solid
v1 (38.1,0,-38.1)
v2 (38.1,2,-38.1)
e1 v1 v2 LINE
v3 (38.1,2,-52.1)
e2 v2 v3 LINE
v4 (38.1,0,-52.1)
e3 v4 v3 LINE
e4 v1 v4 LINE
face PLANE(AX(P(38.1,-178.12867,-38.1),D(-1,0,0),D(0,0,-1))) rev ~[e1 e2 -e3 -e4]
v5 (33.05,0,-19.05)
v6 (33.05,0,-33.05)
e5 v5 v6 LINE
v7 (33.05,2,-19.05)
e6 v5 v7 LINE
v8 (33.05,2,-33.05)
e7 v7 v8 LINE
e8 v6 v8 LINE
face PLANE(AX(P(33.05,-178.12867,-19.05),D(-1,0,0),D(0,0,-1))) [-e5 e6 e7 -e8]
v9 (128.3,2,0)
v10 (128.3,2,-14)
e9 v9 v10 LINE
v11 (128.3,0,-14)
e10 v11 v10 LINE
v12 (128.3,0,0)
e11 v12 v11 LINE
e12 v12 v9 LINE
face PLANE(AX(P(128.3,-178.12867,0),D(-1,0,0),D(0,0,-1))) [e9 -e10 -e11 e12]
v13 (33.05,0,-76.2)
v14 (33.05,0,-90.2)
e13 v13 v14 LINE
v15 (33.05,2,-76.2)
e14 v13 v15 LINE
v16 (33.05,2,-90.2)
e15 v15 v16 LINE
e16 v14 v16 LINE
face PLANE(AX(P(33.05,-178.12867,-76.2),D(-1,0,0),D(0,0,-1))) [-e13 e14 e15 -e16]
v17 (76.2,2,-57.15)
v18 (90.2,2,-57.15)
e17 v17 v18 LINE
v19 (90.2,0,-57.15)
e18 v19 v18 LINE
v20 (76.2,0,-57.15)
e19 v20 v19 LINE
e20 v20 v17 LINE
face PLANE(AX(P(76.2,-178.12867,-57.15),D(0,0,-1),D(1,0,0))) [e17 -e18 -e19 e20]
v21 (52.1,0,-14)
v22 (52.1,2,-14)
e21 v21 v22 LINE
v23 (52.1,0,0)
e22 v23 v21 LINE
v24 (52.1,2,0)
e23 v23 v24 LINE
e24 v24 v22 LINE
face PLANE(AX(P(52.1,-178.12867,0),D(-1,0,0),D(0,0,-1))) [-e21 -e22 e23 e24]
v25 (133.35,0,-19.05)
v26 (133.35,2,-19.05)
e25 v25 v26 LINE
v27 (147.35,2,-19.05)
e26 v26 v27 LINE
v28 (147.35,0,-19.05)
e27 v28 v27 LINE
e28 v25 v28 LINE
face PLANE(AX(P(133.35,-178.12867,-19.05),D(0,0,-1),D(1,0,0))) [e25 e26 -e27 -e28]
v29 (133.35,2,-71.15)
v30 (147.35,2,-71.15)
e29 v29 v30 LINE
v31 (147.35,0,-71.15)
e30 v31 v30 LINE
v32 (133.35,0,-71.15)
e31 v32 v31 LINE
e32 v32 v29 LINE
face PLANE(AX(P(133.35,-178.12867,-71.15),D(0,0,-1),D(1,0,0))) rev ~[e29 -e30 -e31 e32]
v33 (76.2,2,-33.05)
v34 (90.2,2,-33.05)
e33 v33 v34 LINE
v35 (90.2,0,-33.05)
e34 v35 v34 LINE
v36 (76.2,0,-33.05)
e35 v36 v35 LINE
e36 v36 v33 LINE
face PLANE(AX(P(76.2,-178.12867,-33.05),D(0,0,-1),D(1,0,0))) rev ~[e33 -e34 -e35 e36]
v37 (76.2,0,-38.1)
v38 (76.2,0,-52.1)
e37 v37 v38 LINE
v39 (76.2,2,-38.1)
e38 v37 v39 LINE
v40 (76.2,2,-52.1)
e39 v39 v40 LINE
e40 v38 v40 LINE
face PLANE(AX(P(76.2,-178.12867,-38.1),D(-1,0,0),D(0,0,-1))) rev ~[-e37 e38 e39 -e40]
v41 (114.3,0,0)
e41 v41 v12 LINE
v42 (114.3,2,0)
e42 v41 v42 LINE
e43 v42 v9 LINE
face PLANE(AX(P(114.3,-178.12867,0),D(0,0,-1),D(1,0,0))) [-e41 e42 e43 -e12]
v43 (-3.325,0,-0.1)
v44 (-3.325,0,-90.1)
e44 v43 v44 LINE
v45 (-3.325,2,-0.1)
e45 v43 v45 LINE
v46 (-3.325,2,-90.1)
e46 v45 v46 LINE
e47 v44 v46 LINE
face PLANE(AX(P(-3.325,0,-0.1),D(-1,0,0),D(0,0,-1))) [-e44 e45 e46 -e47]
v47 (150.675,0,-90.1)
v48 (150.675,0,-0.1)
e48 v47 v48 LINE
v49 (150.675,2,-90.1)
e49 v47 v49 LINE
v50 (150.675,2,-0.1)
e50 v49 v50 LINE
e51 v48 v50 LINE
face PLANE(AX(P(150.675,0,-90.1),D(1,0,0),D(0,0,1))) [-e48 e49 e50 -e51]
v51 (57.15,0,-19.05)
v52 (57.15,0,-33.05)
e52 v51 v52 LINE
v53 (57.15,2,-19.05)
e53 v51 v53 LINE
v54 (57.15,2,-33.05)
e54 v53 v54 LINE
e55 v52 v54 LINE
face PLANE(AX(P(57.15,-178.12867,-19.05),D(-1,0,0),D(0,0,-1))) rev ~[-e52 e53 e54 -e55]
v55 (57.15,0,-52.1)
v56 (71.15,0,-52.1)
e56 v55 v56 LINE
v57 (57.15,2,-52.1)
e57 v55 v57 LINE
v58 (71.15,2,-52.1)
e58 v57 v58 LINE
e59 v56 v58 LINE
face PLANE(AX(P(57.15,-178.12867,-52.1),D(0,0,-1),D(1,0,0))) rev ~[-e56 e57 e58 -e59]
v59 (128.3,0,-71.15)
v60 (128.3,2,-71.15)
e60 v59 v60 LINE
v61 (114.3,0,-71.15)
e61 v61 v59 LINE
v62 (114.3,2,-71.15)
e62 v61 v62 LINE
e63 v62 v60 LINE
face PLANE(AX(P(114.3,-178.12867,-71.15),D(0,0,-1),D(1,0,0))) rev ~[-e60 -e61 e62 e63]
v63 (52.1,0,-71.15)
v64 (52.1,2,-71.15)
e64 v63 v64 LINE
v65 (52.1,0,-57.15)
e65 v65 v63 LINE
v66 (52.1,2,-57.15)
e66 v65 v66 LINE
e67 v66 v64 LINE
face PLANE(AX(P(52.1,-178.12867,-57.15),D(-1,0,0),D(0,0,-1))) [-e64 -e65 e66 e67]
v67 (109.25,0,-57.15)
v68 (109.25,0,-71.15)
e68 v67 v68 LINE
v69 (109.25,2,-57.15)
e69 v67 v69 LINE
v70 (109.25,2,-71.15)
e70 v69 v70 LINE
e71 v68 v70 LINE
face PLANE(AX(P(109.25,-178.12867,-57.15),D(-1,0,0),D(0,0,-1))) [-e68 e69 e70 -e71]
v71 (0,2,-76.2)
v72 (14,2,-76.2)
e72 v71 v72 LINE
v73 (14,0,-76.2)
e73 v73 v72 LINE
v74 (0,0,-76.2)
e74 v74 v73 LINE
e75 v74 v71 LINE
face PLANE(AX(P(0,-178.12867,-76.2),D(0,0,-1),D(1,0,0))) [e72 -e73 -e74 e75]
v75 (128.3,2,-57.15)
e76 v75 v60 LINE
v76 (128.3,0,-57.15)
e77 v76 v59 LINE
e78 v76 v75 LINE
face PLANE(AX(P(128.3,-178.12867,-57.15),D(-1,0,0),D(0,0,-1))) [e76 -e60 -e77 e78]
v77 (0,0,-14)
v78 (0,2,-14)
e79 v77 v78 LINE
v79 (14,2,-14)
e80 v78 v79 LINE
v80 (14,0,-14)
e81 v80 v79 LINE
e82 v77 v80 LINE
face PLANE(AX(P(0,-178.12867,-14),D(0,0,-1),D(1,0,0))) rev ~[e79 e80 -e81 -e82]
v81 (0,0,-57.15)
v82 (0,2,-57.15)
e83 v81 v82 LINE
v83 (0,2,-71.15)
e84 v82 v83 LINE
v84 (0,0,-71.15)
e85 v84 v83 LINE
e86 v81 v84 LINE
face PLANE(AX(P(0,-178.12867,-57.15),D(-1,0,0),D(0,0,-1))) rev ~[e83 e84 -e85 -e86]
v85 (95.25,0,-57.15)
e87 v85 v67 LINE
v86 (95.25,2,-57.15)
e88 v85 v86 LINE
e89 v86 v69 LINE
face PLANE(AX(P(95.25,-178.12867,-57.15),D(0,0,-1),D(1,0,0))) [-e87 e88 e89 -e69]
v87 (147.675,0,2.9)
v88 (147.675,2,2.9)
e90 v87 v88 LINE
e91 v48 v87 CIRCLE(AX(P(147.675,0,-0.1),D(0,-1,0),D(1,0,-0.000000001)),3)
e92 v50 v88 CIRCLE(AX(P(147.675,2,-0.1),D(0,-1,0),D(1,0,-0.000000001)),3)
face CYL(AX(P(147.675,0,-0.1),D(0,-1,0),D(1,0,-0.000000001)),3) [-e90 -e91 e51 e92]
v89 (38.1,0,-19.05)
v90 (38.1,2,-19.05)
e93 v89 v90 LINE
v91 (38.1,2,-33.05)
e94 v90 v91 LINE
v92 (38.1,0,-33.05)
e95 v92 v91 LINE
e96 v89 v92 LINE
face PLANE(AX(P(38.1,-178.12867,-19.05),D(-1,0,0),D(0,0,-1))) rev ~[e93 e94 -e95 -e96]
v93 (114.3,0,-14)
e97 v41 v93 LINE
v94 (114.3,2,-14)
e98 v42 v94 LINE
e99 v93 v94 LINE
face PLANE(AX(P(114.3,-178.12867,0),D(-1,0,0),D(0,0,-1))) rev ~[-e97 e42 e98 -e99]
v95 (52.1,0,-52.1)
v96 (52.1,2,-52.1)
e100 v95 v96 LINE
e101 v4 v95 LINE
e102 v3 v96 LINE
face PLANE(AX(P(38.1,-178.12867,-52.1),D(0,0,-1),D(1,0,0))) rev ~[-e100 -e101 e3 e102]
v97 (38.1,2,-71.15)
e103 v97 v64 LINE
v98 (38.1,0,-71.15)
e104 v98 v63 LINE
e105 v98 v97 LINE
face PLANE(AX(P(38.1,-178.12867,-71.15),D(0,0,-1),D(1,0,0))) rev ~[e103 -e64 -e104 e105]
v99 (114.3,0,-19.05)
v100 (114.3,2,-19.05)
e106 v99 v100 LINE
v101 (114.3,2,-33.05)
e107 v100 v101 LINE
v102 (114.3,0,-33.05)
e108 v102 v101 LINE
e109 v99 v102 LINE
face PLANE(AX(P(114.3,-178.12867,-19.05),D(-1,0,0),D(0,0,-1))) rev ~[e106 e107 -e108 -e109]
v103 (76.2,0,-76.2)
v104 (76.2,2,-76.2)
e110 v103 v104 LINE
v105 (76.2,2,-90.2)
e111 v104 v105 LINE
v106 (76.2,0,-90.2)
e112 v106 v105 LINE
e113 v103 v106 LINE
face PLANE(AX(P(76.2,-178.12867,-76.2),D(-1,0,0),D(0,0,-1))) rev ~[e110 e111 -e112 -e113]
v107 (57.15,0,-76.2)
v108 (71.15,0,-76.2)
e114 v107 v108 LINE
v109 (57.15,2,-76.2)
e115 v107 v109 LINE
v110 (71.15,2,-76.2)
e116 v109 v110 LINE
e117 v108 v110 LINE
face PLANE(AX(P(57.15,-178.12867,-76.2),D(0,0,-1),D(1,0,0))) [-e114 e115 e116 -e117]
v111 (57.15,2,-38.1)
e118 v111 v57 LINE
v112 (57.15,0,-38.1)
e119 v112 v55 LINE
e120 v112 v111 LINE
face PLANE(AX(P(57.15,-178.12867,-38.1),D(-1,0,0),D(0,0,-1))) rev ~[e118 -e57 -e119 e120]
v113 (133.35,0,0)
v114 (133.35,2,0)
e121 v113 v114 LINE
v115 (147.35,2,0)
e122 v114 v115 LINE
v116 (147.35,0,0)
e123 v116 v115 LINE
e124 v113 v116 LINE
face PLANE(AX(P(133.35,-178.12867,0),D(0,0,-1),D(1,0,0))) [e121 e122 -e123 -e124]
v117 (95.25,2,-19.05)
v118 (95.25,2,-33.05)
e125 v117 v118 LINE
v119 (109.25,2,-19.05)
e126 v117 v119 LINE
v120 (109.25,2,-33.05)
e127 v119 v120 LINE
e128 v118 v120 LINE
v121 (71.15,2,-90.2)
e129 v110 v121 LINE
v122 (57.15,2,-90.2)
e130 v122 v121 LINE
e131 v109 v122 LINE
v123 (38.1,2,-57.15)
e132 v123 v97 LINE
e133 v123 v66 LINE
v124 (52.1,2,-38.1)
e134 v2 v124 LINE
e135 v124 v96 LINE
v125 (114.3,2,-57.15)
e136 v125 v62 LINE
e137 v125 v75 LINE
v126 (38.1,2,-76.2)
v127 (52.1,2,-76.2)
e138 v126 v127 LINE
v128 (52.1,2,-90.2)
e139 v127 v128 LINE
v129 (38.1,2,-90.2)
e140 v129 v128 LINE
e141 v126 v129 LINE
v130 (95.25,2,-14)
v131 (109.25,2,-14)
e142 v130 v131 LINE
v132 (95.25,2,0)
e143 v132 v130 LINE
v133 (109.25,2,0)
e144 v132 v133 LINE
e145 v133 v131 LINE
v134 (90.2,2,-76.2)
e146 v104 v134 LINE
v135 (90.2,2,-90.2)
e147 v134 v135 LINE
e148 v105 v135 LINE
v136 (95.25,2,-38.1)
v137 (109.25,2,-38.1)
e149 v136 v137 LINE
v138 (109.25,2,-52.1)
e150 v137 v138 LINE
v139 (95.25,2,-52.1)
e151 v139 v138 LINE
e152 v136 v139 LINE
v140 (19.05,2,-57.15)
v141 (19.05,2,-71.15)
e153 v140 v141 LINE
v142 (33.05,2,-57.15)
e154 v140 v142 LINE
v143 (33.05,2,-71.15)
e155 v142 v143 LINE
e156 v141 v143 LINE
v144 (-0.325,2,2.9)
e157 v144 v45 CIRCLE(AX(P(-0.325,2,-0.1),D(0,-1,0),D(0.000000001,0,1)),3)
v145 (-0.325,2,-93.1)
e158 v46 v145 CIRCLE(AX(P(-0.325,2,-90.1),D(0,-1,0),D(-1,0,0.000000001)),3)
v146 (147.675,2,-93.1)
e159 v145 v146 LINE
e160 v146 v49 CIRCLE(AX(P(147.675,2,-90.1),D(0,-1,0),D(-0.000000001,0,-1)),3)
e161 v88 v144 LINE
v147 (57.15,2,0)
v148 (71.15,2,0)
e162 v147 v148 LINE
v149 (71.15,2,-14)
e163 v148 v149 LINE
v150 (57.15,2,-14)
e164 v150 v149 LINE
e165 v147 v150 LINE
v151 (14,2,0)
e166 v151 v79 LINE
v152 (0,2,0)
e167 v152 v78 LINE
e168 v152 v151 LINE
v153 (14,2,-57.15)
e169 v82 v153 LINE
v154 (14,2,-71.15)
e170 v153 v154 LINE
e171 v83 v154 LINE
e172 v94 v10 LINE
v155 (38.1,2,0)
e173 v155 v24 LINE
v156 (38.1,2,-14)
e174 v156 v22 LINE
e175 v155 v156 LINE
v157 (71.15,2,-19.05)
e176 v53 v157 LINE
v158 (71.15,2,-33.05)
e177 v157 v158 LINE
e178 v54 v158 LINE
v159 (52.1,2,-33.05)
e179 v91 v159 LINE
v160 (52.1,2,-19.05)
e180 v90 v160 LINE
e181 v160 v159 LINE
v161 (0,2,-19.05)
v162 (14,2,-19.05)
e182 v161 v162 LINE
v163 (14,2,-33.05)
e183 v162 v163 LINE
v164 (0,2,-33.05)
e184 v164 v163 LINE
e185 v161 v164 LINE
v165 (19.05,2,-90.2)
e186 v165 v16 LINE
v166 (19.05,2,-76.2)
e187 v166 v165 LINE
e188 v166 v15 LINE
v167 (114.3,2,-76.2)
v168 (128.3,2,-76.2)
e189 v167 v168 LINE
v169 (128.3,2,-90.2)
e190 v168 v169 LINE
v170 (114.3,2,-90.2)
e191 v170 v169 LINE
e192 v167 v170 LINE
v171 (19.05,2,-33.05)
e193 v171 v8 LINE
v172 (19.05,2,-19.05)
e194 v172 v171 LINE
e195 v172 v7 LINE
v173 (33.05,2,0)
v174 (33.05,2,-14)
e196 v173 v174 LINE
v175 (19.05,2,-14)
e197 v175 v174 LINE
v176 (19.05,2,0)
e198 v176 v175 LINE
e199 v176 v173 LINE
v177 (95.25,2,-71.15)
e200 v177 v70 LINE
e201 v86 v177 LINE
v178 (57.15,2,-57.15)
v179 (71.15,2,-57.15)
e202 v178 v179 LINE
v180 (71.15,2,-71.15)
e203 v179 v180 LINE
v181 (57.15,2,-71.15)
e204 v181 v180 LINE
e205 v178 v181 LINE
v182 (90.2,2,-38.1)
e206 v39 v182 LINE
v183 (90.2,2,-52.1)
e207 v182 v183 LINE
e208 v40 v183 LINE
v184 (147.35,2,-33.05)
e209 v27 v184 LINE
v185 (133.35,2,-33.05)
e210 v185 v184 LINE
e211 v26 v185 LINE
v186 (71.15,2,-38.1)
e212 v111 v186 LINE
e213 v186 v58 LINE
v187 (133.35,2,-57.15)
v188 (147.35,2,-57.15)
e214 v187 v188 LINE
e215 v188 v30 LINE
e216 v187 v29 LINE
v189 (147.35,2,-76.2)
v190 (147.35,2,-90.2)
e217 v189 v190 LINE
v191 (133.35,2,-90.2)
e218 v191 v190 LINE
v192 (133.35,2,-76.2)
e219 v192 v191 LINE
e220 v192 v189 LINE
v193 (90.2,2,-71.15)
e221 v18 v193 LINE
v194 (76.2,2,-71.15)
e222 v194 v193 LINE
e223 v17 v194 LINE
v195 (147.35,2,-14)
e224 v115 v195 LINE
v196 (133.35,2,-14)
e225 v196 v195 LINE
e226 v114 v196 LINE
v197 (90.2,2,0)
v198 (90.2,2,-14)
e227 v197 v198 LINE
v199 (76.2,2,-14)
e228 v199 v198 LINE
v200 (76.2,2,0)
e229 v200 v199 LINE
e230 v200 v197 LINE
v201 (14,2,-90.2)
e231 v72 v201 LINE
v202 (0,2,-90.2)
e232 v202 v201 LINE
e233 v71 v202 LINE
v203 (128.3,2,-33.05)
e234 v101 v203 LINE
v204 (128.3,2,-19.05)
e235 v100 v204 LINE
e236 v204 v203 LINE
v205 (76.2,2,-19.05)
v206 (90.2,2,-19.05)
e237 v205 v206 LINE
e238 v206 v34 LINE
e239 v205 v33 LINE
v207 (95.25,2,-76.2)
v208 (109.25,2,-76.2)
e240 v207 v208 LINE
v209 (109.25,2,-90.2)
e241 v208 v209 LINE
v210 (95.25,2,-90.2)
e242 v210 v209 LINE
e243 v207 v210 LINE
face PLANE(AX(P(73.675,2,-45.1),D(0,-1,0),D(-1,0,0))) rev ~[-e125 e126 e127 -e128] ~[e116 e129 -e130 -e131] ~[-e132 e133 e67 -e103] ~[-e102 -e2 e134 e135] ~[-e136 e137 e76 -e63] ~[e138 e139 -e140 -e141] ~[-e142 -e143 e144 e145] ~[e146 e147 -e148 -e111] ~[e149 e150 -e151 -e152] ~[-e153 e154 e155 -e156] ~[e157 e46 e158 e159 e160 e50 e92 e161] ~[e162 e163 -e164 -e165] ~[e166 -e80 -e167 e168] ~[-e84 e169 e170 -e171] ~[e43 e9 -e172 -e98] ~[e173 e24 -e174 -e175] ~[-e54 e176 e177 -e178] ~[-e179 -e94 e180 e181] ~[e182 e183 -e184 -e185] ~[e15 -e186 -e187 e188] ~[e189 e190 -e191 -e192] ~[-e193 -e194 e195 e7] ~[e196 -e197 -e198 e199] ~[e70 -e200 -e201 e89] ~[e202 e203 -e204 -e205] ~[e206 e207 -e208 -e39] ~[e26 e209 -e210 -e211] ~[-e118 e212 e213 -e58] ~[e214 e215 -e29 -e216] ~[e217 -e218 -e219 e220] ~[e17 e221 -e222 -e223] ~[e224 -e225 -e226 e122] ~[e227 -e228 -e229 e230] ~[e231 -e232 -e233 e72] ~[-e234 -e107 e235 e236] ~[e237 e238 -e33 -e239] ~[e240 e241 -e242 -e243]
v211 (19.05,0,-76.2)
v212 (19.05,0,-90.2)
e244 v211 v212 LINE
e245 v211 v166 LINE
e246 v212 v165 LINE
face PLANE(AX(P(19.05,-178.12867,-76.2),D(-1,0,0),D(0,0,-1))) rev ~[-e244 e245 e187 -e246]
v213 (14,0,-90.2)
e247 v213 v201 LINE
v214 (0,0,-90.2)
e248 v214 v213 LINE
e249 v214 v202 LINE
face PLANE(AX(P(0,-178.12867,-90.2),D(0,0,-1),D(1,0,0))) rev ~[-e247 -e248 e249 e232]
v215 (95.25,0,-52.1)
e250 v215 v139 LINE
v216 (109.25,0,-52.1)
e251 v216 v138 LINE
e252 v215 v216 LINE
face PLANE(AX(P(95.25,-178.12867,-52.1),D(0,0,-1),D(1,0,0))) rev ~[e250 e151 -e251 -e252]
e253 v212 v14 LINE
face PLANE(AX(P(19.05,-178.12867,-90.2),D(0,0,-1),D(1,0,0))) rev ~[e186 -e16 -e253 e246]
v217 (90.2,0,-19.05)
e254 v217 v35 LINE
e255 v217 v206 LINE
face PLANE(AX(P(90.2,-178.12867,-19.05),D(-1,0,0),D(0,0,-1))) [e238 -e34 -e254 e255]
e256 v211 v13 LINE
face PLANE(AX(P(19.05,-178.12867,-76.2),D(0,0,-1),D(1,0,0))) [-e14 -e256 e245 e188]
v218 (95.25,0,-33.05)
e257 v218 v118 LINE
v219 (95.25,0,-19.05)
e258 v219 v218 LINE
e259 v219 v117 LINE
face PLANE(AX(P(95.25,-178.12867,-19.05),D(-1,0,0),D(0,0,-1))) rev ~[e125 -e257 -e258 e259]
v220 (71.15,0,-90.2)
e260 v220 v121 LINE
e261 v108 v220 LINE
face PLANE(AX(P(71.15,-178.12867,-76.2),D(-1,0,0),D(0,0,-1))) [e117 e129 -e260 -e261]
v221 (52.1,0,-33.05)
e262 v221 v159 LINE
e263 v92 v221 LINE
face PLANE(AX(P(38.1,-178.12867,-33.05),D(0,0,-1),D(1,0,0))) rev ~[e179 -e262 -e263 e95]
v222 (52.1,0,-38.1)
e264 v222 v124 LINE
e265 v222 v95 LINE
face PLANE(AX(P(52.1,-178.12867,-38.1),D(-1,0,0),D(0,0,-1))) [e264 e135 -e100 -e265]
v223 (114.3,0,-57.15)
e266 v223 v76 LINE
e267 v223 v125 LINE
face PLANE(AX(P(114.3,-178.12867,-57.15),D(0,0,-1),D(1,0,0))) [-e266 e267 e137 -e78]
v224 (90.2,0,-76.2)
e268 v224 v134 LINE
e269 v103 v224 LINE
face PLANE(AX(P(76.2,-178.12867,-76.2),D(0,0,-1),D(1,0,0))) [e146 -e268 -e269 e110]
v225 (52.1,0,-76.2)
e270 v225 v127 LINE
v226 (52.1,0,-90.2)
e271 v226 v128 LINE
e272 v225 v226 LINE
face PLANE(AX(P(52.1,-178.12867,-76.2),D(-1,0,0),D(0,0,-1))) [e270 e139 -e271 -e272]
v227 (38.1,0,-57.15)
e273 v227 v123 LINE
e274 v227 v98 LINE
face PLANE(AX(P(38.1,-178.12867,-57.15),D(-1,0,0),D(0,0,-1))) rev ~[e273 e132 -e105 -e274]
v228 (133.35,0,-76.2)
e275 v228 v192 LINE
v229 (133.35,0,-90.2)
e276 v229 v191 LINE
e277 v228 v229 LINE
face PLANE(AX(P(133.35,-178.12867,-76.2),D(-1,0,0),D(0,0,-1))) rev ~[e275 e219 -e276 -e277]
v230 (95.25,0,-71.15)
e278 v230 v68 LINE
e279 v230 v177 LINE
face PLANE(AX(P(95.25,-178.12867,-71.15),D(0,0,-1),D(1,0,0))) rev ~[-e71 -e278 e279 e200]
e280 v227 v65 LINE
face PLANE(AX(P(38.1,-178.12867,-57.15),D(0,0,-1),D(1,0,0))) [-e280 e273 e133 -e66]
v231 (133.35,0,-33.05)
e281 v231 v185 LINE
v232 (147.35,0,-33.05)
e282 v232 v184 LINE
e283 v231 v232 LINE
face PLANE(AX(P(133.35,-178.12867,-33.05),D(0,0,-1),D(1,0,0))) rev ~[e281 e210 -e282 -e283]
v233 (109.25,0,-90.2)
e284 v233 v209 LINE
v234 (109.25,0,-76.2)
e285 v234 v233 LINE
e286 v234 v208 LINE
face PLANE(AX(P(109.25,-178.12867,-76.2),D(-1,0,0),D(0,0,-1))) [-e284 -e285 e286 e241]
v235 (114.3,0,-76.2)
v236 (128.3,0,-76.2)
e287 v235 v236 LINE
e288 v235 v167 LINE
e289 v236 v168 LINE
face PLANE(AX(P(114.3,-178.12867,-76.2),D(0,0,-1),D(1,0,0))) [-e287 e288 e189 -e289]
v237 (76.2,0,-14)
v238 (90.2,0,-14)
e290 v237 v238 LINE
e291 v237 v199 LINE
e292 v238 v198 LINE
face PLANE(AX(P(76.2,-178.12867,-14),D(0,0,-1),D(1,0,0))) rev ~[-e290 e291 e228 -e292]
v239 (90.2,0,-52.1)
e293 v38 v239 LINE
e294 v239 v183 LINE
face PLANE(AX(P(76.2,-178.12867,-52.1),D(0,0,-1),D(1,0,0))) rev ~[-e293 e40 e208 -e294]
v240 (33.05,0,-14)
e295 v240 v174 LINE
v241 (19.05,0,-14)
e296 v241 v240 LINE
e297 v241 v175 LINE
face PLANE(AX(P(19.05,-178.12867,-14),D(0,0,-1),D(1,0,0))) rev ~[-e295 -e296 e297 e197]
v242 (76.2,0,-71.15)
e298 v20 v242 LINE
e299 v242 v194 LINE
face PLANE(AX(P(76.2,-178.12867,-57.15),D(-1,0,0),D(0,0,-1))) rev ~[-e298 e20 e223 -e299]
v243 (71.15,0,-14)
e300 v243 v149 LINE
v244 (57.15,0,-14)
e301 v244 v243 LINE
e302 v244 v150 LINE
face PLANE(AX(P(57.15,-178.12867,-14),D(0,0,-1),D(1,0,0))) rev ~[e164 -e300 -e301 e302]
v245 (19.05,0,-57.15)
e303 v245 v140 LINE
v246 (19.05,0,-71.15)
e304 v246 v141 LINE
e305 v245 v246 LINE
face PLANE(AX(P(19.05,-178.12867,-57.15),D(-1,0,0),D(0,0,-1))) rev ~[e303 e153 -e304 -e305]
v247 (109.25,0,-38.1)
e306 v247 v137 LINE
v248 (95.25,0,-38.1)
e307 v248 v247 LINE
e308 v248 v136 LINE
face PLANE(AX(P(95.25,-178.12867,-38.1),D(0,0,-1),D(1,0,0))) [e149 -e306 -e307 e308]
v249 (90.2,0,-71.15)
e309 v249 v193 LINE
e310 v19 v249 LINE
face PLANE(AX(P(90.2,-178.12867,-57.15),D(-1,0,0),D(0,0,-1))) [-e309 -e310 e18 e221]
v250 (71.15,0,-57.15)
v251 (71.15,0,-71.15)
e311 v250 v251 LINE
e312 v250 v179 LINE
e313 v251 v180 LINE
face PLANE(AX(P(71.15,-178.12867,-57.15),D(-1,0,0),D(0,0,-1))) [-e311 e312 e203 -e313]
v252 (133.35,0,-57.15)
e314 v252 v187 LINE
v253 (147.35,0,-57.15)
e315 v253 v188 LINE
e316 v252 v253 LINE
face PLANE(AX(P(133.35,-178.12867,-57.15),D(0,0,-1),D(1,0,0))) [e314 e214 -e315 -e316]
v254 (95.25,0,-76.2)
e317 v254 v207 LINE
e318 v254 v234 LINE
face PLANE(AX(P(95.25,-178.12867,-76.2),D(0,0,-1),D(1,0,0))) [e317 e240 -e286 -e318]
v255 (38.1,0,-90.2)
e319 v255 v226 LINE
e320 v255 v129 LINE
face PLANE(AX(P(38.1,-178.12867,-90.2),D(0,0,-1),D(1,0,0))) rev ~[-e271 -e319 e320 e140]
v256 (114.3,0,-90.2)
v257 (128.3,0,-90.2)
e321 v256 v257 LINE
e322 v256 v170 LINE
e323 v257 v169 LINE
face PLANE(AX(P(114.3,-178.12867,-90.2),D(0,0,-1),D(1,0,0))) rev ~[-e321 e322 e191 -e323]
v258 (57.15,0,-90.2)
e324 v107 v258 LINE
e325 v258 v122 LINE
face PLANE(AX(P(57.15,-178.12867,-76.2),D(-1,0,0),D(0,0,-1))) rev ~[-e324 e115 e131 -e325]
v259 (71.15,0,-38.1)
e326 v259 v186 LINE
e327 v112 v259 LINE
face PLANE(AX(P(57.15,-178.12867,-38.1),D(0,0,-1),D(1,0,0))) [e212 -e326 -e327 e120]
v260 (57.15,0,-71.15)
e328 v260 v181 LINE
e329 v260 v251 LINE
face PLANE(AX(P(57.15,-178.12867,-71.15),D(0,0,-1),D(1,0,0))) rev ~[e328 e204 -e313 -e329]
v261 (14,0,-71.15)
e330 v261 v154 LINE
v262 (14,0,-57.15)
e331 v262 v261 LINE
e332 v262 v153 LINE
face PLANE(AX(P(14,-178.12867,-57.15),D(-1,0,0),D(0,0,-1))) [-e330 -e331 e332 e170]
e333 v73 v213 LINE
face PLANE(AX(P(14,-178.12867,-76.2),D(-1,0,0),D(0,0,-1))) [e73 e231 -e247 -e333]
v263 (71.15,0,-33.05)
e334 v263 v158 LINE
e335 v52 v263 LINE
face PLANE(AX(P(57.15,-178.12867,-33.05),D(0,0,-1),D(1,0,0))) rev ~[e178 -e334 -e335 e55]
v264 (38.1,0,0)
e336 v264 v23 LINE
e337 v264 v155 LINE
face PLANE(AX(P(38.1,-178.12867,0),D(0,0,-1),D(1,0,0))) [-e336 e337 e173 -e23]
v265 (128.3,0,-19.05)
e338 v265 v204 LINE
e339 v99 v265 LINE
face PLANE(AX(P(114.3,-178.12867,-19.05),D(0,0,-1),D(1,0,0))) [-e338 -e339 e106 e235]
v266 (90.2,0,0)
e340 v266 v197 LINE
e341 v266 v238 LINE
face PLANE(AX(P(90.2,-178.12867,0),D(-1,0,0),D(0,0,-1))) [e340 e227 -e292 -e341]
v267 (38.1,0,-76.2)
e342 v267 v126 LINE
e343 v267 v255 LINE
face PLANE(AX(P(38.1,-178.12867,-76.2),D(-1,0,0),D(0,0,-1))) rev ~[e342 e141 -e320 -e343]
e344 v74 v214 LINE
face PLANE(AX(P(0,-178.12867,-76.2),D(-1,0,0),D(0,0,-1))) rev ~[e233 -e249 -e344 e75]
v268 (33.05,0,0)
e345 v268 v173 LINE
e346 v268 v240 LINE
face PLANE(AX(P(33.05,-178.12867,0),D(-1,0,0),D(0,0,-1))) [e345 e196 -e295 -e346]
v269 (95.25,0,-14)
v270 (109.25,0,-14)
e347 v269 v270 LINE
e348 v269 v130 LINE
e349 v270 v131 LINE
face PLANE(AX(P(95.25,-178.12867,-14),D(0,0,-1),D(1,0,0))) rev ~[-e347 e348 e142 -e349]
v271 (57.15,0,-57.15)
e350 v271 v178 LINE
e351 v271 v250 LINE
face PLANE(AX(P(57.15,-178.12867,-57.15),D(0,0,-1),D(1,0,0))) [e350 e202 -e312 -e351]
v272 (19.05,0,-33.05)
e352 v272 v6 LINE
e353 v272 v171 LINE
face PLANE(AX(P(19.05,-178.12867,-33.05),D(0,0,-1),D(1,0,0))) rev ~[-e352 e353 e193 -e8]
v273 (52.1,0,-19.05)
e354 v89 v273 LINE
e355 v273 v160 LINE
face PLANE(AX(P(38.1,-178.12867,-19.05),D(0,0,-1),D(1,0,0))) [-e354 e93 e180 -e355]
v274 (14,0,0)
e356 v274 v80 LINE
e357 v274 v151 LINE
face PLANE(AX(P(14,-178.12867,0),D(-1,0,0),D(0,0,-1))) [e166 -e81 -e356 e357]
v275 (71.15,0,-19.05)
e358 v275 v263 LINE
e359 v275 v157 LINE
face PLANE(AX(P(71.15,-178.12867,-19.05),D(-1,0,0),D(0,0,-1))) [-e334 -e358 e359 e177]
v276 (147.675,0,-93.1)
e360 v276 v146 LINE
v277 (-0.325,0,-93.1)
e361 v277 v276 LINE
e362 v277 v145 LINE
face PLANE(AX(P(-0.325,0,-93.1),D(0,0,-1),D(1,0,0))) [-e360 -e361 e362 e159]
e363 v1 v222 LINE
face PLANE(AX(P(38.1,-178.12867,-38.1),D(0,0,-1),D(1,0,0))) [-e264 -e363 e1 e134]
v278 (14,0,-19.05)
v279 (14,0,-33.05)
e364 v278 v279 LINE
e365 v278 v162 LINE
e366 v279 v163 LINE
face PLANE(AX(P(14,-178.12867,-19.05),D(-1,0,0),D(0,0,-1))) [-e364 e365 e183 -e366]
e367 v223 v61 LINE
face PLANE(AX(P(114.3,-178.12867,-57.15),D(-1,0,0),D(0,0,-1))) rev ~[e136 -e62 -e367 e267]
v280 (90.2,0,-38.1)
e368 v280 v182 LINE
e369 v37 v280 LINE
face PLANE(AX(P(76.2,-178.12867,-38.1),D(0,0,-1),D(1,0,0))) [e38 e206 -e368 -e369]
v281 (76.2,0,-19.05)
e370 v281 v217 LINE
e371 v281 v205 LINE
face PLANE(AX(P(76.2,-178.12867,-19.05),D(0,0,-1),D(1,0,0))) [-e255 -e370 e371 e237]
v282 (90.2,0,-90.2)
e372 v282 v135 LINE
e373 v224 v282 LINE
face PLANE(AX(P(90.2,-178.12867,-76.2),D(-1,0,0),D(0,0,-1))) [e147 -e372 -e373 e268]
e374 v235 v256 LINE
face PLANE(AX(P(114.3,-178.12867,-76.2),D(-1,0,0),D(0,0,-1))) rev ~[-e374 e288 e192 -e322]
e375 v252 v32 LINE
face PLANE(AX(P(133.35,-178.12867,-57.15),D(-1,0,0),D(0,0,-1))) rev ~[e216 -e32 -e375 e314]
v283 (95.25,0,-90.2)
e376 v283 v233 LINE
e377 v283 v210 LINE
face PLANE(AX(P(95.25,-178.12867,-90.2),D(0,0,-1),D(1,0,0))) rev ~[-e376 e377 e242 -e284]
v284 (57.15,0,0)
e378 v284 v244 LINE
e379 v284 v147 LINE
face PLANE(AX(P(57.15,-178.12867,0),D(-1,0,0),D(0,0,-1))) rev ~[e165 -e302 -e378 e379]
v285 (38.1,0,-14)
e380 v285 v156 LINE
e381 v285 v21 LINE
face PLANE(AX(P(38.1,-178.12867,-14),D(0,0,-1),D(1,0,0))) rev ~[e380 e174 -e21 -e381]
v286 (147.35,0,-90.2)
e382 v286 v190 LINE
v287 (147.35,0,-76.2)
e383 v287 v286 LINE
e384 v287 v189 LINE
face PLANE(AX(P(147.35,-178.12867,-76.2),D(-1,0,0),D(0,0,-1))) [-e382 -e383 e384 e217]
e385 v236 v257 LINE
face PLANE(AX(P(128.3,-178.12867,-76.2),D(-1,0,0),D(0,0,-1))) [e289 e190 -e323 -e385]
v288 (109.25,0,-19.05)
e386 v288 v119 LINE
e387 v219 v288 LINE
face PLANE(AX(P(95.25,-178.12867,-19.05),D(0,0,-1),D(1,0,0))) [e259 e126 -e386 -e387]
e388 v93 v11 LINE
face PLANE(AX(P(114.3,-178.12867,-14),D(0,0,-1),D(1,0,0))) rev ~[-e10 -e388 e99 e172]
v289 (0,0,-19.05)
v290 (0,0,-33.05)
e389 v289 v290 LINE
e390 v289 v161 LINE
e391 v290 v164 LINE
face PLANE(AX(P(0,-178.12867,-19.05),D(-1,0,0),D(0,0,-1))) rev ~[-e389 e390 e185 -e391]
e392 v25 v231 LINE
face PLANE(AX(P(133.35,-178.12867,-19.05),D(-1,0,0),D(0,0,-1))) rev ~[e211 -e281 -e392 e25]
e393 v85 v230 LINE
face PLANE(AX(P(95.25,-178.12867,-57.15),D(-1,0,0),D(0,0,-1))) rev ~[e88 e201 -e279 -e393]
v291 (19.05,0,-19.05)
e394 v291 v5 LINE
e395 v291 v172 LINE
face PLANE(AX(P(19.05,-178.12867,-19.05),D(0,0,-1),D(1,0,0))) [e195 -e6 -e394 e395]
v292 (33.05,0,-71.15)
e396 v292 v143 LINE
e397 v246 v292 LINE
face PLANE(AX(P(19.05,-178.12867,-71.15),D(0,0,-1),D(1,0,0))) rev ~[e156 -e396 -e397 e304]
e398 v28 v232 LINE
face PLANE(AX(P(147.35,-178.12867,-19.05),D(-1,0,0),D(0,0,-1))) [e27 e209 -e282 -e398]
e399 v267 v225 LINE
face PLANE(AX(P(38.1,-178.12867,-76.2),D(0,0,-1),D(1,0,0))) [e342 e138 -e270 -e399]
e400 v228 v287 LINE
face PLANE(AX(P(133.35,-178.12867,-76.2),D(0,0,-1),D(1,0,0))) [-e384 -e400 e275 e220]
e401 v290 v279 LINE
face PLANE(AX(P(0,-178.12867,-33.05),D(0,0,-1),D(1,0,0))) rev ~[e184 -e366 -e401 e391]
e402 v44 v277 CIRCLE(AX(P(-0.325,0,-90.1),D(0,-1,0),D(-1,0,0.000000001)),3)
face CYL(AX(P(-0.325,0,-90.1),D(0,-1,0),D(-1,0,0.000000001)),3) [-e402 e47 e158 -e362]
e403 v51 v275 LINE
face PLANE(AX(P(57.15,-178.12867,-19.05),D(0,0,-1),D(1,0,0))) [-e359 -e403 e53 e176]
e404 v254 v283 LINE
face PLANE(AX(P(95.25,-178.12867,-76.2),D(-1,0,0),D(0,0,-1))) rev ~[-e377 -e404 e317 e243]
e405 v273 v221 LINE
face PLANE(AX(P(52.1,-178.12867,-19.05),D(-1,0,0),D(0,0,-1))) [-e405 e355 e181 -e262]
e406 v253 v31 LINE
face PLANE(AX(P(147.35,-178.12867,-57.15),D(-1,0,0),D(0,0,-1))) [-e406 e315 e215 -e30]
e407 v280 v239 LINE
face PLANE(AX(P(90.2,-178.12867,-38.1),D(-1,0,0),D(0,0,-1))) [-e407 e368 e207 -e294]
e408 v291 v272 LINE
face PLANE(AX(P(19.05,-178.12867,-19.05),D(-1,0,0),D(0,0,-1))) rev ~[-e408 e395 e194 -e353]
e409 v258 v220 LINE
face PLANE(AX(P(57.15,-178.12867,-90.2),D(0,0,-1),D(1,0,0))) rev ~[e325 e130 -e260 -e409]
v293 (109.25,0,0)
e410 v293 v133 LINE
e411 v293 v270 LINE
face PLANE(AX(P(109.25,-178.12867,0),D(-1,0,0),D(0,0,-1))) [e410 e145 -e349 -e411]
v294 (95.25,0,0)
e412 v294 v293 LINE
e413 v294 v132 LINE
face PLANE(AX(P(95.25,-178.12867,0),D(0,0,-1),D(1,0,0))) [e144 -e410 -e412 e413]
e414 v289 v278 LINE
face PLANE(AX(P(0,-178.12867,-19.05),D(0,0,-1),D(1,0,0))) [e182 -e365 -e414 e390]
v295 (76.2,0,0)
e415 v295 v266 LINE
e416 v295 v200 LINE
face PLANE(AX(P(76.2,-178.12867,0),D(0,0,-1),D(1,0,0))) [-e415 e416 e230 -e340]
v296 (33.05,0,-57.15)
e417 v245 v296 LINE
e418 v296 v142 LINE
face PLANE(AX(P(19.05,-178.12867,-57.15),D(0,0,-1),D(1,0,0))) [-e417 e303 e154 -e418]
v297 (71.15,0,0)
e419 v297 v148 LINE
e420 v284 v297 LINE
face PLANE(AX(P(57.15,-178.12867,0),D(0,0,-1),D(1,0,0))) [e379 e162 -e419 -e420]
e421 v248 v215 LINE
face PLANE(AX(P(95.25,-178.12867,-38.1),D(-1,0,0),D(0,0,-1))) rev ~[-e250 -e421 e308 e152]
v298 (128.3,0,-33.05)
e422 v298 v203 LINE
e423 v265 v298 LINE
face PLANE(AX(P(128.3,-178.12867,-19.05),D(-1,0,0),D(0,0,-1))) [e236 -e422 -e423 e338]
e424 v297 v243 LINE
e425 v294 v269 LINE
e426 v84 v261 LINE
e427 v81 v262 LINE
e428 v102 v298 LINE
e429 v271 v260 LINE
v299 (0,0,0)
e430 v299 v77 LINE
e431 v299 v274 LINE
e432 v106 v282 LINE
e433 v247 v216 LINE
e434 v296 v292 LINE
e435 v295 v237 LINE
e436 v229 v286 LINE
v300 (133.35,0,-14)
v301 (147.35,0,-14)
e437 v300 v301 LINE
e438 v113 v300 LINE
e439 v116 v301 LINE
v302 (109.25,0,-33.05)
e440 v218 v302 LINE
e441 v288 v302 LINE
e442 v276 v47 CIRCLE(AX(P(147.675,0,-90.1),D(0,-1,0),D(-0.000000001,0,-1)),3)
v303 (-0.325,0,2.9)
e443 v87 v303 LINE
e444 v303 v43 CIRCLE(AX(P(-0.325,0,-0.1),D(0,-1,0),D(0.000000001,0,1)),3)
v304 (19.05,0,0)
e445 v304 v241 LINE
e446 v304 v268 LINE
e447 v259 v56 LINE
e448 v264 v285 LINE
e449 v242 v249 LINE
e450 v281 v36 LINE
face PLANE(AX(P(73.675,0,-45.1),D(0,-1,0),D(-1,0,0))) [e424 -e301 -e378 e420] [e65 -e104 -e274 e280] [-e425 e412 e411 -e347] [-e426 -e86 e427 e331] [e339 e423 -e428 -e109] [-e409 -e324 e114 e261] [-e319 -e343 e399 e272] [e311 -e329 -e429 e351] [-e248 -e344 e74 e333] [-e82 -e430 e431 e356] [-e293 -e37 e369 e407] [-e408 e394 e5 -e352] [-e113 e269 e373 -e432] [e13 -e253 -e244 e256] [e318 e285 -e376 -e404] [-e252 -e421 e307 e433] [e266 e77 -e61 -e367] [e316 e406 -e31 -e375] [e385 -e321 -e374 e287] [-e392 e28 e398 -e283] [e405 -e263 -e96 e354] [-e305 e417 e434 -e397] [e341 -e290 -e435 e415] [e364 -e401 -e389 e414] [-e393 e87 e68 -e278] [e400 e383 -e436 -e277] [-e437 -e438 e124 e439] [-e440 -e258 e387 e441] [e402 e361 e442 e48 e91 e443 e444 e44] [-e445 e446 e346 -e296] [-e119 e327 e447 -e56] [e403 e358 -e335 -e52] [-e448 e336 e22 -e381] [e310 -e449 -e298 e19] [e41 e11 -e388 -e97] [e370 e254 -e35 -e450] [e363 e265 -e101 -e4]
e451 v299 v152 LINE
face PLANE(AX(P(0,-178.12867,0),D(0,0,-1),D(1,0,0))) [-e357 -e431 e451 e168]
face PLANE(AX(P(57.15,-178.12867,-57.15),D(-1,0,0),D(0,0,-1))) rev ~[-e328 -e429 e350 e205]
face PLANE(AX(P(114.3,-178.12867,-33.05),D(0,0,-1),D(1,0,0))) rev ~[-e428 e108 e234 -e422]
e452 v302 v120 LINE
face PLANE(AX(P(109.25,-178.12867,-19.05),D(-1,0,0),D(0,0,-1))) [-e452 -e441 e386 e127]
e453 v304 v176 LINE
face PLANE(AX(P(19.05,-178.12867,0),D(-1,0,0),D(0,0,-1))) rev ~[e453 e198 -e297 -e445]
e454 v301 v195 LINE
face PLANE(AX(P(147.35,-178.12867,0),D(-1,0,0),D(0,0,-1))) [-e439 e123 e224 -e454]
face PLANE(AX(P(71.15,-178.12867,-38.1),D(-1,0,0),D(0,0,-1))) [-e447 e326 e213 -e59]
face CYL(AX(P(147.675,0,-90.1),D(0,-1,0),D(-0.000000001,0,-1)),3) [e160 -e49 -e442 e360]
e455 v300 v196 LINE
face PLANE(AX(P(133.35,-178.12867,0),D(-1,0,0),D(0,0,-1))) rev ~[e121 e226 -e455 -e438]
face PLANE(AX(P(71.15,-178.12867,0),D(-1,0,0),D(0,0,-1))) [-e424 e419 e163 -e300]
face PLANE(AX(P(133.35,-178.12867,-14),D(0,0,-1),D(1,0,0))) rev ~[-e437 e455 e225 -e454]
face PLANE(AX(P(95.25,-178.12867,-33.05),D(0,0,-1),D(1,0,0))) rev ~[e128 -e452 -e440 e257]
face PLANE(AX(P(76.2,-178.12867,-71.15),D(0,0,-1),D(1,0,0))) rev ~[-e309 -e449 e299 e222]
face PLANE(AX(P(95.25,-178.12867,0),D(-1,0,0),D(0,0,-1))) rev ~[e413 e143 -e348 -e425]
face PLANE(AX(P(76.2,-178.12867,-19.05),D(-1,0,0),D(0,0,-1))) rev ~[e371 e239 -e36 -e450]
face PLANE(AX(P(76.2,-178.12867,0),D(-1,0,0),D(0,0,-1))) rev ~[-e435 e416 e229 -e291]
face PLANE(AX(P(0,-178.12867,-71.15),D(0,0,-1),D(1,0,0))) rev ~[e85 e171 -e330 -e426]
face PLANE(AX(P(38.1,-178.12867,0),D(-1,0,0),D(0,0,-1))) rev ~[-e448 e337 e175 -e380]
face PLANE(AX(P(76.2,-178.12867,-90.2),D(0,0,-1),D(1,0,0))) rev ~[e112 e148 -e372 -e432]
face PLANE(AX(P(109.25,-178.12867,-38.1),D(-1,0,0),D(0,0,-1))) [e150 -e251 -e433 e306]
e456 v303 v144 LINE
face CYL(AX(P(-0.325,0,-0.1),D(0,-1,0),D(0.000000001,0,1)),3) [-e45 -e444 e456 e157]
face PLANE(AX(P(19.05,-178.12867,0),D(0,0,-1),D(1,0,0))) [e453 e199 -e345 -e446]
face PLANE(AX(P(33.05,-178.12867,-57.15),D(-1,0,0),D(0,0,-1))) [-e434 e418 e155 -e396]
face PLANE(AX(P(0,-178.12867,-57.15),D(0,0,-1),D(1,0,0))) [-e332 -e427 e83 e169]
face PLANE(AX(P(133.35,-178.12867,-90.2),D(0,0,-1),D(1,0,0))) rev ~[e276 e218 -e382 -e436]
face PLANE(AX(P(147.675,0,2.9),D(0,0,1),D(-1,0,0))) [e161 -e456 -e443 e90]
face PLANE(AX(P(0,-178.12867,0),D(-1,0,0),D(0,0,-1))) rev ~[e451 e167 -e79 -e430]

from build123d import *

# Parameters (mm, degrees)
BOSS_EXTRUDE1_DEPTH     = 2
CUT_EXTRUDE3_DEPTH      = 178.128669687
CUT_EXTRUDE3_DEPTH_BACK = 178.128669687
SKETCH14_W              = 14
SKETCH14_H              = 14


with BuildPart() as part:
    # Sketch16 → Boss-Extrude1 (new body)
    with BuildSketch(Plane(origin=(0, 0, 0), x_dir=(1, 0, 0), z_dir=(0, 1, 0))):
        with BuildLine():
            Line((-0.325, 93.1), (147.675, 93.1))
            ThreePointArc((147.675, 93.1), (149.796320344, 92.221320344), (150.675, 90.1))
            Line((150.675, 90.1), (150.675, 0.1))
            ThreePointArc((150.675, 0.1), (149.796320344, -2.021320344), (147.675, -2.9))
            Line((147.675, -2.9), (-0.325, -2.9))
            ThreePointArc((-0.325, -2.9), (-2.446320344, -2.021320344), (-3.325, 0.1))
            Line((-3.325, 0.1), (-3.325, 90.1))
            ThreePointArc((-3.325, 90.1), (-2.446320344, 92.221320344), (-0.325, 93.1))
        make_face()
    extrude(amount=BOSS_EXTRUDE1_DEPTH)

    # Sketch14 → Cut-Extrude3 (cut, two sides: drawn at the far end of the back side and taken through both)
    with BuildSketch(Plane(origin=(0, 0, 0), x_dir=(1, 0, 0), z_dir=(0, 1, 0)).offset(-CUT_EXTRUDE3_DEPTH_BACK)):
        with Locations((26.05, 7)):
            Rectangle(SKETCH14_W, SKETCH14_H)
        with Locations((7, 7)):
            Rectangle(SKETCH14_W, SKETCH14_H)
        with Locations((45.1, 7)):
            Rectangle(SKETCH14_W, SKETCH14_H)
        with Locations((64.15, 7)):
            Rectangle(SKETCH14_W, SKETCH14_H)
        with Locations((83.2, 7)):
            Rectangle(SKETCH14_W, SKETCH14_H)
        with Locations((102.25, 7)):
            Rectangle(SKETCH14_W, SKETCH14_H)
        with Locations((121.3, 7)):
            Rectangle(SKETCH14_W, SKETCH14_H)
        with Locations((140.35, 7)):
            Rectangle(SKETCH14_W, SKETCH14_H)
        with Locations((26.05, 26.05)):
            Rectangle(SKETCH14_W, SKETCH14_H)
        with Locations((45.1, 26.05)):
            Rectangle(SKETCH14_W, SKETCH14_H)
        with Locations((64.15, 26.05)):
            Rectangle(SKETCH14_W, SKETCH14_H)
        with Locations((83.2, 26.05)):
            Rectangle(SKETCH14_W, SKETCH14_H)
        with Locations((102.25, 26.05)):
            Rectangle(SKETCH14_W, SKETCH14_H)
        with Locations((121.3, 26.05)):
            Rectangle(SKETCH14_W, SKETCH14_H)
        with Locations((140.35, 26.05)):
            Rectangle(SKETCH14_W, SKETCH14_H)
        with Locations((45.1, 45.1)):
            Rectangle(SKETCH14_W, SKETCH14_H)
        with Locations((64.15, 45.1)):
            Rectangle(SKETCH14_W, SKETCH14_H)
        with Locations((83.2, 45.1)):
            Rectangle(SKETCH14_W, SKETCH14_H)
        with Locations((102.25, 45.1)):
            Rectangle(SKETCH14_W, SKETCH14_H)
        with Locations((26.05, 64.15)):
            Rectangle(SKETCH14_W, SKETCH14_H)
        with Locations((45.1, 64.15)):
            Rectangle(SKETCH14_W, SKETCH14_H)
        with Locations((64.15, 64.15)):
            Rectangle(SKETCH14_W, SKETCH14_H)
        with Locations((83.2, 64.15)):
            Rectangle(SKETCH14_W, SKETCH14_H)
        with Locations((102.25, 64.15)):
            Rectangle(SKETCH14_W, SKETCH14_H)
        with Locations((121.3, 64.15)):
            Rectangle(SKETCH14_W, SKETCH14_H)
        with Locations((140.35, 64.15)):
            Rectangle(SKETCH14_W, SKETCH14_H)
        with Locations((26.05, 83.2)):
            Rectangle(SKETCH14_W, SKETCH14_H)
        with Locations((45.1, 83.2)):
            Rectangle(SKETCH14_W, SKETCH14_H)
        with Locations((64.15, 83.2)):
            Rectangle(SKETCH14_W, SKETCH14_H)
        with Locations((83.2, 83.2)):
            Rectangle(SKETCH14_W, SKETCH14_H)
        with Locations((102.25, 83.2)):
            Rectangle(SKETCH14_W, SKETCH14_H)
        with Locations((121.3, 83.2)):
            Rectangle(SKETCH14_W, SKETCH14_H)
        with Locations((140.35, 83.2)):
            Rectangle(SKETCH14_W, SKETCH14_H)
        with Locations((7, 26.05)):
            Rectangle(SKETCH14_W, SKETCH14_H)
        with Locations((7, 64.15)):
            Rectangle(SKETCH14_W, SKETCH14_H)
        with Locations((7, 83.2)):
            Rectangle(SKETCH14_W, SKETCH14_H)
    extrude(amount=CUT_EXTRUDE3_DEPTH + CUT_EXTRUDE3_DEPTH_BACK, mode=Mode.SUBTRACT)


solid = part.part
